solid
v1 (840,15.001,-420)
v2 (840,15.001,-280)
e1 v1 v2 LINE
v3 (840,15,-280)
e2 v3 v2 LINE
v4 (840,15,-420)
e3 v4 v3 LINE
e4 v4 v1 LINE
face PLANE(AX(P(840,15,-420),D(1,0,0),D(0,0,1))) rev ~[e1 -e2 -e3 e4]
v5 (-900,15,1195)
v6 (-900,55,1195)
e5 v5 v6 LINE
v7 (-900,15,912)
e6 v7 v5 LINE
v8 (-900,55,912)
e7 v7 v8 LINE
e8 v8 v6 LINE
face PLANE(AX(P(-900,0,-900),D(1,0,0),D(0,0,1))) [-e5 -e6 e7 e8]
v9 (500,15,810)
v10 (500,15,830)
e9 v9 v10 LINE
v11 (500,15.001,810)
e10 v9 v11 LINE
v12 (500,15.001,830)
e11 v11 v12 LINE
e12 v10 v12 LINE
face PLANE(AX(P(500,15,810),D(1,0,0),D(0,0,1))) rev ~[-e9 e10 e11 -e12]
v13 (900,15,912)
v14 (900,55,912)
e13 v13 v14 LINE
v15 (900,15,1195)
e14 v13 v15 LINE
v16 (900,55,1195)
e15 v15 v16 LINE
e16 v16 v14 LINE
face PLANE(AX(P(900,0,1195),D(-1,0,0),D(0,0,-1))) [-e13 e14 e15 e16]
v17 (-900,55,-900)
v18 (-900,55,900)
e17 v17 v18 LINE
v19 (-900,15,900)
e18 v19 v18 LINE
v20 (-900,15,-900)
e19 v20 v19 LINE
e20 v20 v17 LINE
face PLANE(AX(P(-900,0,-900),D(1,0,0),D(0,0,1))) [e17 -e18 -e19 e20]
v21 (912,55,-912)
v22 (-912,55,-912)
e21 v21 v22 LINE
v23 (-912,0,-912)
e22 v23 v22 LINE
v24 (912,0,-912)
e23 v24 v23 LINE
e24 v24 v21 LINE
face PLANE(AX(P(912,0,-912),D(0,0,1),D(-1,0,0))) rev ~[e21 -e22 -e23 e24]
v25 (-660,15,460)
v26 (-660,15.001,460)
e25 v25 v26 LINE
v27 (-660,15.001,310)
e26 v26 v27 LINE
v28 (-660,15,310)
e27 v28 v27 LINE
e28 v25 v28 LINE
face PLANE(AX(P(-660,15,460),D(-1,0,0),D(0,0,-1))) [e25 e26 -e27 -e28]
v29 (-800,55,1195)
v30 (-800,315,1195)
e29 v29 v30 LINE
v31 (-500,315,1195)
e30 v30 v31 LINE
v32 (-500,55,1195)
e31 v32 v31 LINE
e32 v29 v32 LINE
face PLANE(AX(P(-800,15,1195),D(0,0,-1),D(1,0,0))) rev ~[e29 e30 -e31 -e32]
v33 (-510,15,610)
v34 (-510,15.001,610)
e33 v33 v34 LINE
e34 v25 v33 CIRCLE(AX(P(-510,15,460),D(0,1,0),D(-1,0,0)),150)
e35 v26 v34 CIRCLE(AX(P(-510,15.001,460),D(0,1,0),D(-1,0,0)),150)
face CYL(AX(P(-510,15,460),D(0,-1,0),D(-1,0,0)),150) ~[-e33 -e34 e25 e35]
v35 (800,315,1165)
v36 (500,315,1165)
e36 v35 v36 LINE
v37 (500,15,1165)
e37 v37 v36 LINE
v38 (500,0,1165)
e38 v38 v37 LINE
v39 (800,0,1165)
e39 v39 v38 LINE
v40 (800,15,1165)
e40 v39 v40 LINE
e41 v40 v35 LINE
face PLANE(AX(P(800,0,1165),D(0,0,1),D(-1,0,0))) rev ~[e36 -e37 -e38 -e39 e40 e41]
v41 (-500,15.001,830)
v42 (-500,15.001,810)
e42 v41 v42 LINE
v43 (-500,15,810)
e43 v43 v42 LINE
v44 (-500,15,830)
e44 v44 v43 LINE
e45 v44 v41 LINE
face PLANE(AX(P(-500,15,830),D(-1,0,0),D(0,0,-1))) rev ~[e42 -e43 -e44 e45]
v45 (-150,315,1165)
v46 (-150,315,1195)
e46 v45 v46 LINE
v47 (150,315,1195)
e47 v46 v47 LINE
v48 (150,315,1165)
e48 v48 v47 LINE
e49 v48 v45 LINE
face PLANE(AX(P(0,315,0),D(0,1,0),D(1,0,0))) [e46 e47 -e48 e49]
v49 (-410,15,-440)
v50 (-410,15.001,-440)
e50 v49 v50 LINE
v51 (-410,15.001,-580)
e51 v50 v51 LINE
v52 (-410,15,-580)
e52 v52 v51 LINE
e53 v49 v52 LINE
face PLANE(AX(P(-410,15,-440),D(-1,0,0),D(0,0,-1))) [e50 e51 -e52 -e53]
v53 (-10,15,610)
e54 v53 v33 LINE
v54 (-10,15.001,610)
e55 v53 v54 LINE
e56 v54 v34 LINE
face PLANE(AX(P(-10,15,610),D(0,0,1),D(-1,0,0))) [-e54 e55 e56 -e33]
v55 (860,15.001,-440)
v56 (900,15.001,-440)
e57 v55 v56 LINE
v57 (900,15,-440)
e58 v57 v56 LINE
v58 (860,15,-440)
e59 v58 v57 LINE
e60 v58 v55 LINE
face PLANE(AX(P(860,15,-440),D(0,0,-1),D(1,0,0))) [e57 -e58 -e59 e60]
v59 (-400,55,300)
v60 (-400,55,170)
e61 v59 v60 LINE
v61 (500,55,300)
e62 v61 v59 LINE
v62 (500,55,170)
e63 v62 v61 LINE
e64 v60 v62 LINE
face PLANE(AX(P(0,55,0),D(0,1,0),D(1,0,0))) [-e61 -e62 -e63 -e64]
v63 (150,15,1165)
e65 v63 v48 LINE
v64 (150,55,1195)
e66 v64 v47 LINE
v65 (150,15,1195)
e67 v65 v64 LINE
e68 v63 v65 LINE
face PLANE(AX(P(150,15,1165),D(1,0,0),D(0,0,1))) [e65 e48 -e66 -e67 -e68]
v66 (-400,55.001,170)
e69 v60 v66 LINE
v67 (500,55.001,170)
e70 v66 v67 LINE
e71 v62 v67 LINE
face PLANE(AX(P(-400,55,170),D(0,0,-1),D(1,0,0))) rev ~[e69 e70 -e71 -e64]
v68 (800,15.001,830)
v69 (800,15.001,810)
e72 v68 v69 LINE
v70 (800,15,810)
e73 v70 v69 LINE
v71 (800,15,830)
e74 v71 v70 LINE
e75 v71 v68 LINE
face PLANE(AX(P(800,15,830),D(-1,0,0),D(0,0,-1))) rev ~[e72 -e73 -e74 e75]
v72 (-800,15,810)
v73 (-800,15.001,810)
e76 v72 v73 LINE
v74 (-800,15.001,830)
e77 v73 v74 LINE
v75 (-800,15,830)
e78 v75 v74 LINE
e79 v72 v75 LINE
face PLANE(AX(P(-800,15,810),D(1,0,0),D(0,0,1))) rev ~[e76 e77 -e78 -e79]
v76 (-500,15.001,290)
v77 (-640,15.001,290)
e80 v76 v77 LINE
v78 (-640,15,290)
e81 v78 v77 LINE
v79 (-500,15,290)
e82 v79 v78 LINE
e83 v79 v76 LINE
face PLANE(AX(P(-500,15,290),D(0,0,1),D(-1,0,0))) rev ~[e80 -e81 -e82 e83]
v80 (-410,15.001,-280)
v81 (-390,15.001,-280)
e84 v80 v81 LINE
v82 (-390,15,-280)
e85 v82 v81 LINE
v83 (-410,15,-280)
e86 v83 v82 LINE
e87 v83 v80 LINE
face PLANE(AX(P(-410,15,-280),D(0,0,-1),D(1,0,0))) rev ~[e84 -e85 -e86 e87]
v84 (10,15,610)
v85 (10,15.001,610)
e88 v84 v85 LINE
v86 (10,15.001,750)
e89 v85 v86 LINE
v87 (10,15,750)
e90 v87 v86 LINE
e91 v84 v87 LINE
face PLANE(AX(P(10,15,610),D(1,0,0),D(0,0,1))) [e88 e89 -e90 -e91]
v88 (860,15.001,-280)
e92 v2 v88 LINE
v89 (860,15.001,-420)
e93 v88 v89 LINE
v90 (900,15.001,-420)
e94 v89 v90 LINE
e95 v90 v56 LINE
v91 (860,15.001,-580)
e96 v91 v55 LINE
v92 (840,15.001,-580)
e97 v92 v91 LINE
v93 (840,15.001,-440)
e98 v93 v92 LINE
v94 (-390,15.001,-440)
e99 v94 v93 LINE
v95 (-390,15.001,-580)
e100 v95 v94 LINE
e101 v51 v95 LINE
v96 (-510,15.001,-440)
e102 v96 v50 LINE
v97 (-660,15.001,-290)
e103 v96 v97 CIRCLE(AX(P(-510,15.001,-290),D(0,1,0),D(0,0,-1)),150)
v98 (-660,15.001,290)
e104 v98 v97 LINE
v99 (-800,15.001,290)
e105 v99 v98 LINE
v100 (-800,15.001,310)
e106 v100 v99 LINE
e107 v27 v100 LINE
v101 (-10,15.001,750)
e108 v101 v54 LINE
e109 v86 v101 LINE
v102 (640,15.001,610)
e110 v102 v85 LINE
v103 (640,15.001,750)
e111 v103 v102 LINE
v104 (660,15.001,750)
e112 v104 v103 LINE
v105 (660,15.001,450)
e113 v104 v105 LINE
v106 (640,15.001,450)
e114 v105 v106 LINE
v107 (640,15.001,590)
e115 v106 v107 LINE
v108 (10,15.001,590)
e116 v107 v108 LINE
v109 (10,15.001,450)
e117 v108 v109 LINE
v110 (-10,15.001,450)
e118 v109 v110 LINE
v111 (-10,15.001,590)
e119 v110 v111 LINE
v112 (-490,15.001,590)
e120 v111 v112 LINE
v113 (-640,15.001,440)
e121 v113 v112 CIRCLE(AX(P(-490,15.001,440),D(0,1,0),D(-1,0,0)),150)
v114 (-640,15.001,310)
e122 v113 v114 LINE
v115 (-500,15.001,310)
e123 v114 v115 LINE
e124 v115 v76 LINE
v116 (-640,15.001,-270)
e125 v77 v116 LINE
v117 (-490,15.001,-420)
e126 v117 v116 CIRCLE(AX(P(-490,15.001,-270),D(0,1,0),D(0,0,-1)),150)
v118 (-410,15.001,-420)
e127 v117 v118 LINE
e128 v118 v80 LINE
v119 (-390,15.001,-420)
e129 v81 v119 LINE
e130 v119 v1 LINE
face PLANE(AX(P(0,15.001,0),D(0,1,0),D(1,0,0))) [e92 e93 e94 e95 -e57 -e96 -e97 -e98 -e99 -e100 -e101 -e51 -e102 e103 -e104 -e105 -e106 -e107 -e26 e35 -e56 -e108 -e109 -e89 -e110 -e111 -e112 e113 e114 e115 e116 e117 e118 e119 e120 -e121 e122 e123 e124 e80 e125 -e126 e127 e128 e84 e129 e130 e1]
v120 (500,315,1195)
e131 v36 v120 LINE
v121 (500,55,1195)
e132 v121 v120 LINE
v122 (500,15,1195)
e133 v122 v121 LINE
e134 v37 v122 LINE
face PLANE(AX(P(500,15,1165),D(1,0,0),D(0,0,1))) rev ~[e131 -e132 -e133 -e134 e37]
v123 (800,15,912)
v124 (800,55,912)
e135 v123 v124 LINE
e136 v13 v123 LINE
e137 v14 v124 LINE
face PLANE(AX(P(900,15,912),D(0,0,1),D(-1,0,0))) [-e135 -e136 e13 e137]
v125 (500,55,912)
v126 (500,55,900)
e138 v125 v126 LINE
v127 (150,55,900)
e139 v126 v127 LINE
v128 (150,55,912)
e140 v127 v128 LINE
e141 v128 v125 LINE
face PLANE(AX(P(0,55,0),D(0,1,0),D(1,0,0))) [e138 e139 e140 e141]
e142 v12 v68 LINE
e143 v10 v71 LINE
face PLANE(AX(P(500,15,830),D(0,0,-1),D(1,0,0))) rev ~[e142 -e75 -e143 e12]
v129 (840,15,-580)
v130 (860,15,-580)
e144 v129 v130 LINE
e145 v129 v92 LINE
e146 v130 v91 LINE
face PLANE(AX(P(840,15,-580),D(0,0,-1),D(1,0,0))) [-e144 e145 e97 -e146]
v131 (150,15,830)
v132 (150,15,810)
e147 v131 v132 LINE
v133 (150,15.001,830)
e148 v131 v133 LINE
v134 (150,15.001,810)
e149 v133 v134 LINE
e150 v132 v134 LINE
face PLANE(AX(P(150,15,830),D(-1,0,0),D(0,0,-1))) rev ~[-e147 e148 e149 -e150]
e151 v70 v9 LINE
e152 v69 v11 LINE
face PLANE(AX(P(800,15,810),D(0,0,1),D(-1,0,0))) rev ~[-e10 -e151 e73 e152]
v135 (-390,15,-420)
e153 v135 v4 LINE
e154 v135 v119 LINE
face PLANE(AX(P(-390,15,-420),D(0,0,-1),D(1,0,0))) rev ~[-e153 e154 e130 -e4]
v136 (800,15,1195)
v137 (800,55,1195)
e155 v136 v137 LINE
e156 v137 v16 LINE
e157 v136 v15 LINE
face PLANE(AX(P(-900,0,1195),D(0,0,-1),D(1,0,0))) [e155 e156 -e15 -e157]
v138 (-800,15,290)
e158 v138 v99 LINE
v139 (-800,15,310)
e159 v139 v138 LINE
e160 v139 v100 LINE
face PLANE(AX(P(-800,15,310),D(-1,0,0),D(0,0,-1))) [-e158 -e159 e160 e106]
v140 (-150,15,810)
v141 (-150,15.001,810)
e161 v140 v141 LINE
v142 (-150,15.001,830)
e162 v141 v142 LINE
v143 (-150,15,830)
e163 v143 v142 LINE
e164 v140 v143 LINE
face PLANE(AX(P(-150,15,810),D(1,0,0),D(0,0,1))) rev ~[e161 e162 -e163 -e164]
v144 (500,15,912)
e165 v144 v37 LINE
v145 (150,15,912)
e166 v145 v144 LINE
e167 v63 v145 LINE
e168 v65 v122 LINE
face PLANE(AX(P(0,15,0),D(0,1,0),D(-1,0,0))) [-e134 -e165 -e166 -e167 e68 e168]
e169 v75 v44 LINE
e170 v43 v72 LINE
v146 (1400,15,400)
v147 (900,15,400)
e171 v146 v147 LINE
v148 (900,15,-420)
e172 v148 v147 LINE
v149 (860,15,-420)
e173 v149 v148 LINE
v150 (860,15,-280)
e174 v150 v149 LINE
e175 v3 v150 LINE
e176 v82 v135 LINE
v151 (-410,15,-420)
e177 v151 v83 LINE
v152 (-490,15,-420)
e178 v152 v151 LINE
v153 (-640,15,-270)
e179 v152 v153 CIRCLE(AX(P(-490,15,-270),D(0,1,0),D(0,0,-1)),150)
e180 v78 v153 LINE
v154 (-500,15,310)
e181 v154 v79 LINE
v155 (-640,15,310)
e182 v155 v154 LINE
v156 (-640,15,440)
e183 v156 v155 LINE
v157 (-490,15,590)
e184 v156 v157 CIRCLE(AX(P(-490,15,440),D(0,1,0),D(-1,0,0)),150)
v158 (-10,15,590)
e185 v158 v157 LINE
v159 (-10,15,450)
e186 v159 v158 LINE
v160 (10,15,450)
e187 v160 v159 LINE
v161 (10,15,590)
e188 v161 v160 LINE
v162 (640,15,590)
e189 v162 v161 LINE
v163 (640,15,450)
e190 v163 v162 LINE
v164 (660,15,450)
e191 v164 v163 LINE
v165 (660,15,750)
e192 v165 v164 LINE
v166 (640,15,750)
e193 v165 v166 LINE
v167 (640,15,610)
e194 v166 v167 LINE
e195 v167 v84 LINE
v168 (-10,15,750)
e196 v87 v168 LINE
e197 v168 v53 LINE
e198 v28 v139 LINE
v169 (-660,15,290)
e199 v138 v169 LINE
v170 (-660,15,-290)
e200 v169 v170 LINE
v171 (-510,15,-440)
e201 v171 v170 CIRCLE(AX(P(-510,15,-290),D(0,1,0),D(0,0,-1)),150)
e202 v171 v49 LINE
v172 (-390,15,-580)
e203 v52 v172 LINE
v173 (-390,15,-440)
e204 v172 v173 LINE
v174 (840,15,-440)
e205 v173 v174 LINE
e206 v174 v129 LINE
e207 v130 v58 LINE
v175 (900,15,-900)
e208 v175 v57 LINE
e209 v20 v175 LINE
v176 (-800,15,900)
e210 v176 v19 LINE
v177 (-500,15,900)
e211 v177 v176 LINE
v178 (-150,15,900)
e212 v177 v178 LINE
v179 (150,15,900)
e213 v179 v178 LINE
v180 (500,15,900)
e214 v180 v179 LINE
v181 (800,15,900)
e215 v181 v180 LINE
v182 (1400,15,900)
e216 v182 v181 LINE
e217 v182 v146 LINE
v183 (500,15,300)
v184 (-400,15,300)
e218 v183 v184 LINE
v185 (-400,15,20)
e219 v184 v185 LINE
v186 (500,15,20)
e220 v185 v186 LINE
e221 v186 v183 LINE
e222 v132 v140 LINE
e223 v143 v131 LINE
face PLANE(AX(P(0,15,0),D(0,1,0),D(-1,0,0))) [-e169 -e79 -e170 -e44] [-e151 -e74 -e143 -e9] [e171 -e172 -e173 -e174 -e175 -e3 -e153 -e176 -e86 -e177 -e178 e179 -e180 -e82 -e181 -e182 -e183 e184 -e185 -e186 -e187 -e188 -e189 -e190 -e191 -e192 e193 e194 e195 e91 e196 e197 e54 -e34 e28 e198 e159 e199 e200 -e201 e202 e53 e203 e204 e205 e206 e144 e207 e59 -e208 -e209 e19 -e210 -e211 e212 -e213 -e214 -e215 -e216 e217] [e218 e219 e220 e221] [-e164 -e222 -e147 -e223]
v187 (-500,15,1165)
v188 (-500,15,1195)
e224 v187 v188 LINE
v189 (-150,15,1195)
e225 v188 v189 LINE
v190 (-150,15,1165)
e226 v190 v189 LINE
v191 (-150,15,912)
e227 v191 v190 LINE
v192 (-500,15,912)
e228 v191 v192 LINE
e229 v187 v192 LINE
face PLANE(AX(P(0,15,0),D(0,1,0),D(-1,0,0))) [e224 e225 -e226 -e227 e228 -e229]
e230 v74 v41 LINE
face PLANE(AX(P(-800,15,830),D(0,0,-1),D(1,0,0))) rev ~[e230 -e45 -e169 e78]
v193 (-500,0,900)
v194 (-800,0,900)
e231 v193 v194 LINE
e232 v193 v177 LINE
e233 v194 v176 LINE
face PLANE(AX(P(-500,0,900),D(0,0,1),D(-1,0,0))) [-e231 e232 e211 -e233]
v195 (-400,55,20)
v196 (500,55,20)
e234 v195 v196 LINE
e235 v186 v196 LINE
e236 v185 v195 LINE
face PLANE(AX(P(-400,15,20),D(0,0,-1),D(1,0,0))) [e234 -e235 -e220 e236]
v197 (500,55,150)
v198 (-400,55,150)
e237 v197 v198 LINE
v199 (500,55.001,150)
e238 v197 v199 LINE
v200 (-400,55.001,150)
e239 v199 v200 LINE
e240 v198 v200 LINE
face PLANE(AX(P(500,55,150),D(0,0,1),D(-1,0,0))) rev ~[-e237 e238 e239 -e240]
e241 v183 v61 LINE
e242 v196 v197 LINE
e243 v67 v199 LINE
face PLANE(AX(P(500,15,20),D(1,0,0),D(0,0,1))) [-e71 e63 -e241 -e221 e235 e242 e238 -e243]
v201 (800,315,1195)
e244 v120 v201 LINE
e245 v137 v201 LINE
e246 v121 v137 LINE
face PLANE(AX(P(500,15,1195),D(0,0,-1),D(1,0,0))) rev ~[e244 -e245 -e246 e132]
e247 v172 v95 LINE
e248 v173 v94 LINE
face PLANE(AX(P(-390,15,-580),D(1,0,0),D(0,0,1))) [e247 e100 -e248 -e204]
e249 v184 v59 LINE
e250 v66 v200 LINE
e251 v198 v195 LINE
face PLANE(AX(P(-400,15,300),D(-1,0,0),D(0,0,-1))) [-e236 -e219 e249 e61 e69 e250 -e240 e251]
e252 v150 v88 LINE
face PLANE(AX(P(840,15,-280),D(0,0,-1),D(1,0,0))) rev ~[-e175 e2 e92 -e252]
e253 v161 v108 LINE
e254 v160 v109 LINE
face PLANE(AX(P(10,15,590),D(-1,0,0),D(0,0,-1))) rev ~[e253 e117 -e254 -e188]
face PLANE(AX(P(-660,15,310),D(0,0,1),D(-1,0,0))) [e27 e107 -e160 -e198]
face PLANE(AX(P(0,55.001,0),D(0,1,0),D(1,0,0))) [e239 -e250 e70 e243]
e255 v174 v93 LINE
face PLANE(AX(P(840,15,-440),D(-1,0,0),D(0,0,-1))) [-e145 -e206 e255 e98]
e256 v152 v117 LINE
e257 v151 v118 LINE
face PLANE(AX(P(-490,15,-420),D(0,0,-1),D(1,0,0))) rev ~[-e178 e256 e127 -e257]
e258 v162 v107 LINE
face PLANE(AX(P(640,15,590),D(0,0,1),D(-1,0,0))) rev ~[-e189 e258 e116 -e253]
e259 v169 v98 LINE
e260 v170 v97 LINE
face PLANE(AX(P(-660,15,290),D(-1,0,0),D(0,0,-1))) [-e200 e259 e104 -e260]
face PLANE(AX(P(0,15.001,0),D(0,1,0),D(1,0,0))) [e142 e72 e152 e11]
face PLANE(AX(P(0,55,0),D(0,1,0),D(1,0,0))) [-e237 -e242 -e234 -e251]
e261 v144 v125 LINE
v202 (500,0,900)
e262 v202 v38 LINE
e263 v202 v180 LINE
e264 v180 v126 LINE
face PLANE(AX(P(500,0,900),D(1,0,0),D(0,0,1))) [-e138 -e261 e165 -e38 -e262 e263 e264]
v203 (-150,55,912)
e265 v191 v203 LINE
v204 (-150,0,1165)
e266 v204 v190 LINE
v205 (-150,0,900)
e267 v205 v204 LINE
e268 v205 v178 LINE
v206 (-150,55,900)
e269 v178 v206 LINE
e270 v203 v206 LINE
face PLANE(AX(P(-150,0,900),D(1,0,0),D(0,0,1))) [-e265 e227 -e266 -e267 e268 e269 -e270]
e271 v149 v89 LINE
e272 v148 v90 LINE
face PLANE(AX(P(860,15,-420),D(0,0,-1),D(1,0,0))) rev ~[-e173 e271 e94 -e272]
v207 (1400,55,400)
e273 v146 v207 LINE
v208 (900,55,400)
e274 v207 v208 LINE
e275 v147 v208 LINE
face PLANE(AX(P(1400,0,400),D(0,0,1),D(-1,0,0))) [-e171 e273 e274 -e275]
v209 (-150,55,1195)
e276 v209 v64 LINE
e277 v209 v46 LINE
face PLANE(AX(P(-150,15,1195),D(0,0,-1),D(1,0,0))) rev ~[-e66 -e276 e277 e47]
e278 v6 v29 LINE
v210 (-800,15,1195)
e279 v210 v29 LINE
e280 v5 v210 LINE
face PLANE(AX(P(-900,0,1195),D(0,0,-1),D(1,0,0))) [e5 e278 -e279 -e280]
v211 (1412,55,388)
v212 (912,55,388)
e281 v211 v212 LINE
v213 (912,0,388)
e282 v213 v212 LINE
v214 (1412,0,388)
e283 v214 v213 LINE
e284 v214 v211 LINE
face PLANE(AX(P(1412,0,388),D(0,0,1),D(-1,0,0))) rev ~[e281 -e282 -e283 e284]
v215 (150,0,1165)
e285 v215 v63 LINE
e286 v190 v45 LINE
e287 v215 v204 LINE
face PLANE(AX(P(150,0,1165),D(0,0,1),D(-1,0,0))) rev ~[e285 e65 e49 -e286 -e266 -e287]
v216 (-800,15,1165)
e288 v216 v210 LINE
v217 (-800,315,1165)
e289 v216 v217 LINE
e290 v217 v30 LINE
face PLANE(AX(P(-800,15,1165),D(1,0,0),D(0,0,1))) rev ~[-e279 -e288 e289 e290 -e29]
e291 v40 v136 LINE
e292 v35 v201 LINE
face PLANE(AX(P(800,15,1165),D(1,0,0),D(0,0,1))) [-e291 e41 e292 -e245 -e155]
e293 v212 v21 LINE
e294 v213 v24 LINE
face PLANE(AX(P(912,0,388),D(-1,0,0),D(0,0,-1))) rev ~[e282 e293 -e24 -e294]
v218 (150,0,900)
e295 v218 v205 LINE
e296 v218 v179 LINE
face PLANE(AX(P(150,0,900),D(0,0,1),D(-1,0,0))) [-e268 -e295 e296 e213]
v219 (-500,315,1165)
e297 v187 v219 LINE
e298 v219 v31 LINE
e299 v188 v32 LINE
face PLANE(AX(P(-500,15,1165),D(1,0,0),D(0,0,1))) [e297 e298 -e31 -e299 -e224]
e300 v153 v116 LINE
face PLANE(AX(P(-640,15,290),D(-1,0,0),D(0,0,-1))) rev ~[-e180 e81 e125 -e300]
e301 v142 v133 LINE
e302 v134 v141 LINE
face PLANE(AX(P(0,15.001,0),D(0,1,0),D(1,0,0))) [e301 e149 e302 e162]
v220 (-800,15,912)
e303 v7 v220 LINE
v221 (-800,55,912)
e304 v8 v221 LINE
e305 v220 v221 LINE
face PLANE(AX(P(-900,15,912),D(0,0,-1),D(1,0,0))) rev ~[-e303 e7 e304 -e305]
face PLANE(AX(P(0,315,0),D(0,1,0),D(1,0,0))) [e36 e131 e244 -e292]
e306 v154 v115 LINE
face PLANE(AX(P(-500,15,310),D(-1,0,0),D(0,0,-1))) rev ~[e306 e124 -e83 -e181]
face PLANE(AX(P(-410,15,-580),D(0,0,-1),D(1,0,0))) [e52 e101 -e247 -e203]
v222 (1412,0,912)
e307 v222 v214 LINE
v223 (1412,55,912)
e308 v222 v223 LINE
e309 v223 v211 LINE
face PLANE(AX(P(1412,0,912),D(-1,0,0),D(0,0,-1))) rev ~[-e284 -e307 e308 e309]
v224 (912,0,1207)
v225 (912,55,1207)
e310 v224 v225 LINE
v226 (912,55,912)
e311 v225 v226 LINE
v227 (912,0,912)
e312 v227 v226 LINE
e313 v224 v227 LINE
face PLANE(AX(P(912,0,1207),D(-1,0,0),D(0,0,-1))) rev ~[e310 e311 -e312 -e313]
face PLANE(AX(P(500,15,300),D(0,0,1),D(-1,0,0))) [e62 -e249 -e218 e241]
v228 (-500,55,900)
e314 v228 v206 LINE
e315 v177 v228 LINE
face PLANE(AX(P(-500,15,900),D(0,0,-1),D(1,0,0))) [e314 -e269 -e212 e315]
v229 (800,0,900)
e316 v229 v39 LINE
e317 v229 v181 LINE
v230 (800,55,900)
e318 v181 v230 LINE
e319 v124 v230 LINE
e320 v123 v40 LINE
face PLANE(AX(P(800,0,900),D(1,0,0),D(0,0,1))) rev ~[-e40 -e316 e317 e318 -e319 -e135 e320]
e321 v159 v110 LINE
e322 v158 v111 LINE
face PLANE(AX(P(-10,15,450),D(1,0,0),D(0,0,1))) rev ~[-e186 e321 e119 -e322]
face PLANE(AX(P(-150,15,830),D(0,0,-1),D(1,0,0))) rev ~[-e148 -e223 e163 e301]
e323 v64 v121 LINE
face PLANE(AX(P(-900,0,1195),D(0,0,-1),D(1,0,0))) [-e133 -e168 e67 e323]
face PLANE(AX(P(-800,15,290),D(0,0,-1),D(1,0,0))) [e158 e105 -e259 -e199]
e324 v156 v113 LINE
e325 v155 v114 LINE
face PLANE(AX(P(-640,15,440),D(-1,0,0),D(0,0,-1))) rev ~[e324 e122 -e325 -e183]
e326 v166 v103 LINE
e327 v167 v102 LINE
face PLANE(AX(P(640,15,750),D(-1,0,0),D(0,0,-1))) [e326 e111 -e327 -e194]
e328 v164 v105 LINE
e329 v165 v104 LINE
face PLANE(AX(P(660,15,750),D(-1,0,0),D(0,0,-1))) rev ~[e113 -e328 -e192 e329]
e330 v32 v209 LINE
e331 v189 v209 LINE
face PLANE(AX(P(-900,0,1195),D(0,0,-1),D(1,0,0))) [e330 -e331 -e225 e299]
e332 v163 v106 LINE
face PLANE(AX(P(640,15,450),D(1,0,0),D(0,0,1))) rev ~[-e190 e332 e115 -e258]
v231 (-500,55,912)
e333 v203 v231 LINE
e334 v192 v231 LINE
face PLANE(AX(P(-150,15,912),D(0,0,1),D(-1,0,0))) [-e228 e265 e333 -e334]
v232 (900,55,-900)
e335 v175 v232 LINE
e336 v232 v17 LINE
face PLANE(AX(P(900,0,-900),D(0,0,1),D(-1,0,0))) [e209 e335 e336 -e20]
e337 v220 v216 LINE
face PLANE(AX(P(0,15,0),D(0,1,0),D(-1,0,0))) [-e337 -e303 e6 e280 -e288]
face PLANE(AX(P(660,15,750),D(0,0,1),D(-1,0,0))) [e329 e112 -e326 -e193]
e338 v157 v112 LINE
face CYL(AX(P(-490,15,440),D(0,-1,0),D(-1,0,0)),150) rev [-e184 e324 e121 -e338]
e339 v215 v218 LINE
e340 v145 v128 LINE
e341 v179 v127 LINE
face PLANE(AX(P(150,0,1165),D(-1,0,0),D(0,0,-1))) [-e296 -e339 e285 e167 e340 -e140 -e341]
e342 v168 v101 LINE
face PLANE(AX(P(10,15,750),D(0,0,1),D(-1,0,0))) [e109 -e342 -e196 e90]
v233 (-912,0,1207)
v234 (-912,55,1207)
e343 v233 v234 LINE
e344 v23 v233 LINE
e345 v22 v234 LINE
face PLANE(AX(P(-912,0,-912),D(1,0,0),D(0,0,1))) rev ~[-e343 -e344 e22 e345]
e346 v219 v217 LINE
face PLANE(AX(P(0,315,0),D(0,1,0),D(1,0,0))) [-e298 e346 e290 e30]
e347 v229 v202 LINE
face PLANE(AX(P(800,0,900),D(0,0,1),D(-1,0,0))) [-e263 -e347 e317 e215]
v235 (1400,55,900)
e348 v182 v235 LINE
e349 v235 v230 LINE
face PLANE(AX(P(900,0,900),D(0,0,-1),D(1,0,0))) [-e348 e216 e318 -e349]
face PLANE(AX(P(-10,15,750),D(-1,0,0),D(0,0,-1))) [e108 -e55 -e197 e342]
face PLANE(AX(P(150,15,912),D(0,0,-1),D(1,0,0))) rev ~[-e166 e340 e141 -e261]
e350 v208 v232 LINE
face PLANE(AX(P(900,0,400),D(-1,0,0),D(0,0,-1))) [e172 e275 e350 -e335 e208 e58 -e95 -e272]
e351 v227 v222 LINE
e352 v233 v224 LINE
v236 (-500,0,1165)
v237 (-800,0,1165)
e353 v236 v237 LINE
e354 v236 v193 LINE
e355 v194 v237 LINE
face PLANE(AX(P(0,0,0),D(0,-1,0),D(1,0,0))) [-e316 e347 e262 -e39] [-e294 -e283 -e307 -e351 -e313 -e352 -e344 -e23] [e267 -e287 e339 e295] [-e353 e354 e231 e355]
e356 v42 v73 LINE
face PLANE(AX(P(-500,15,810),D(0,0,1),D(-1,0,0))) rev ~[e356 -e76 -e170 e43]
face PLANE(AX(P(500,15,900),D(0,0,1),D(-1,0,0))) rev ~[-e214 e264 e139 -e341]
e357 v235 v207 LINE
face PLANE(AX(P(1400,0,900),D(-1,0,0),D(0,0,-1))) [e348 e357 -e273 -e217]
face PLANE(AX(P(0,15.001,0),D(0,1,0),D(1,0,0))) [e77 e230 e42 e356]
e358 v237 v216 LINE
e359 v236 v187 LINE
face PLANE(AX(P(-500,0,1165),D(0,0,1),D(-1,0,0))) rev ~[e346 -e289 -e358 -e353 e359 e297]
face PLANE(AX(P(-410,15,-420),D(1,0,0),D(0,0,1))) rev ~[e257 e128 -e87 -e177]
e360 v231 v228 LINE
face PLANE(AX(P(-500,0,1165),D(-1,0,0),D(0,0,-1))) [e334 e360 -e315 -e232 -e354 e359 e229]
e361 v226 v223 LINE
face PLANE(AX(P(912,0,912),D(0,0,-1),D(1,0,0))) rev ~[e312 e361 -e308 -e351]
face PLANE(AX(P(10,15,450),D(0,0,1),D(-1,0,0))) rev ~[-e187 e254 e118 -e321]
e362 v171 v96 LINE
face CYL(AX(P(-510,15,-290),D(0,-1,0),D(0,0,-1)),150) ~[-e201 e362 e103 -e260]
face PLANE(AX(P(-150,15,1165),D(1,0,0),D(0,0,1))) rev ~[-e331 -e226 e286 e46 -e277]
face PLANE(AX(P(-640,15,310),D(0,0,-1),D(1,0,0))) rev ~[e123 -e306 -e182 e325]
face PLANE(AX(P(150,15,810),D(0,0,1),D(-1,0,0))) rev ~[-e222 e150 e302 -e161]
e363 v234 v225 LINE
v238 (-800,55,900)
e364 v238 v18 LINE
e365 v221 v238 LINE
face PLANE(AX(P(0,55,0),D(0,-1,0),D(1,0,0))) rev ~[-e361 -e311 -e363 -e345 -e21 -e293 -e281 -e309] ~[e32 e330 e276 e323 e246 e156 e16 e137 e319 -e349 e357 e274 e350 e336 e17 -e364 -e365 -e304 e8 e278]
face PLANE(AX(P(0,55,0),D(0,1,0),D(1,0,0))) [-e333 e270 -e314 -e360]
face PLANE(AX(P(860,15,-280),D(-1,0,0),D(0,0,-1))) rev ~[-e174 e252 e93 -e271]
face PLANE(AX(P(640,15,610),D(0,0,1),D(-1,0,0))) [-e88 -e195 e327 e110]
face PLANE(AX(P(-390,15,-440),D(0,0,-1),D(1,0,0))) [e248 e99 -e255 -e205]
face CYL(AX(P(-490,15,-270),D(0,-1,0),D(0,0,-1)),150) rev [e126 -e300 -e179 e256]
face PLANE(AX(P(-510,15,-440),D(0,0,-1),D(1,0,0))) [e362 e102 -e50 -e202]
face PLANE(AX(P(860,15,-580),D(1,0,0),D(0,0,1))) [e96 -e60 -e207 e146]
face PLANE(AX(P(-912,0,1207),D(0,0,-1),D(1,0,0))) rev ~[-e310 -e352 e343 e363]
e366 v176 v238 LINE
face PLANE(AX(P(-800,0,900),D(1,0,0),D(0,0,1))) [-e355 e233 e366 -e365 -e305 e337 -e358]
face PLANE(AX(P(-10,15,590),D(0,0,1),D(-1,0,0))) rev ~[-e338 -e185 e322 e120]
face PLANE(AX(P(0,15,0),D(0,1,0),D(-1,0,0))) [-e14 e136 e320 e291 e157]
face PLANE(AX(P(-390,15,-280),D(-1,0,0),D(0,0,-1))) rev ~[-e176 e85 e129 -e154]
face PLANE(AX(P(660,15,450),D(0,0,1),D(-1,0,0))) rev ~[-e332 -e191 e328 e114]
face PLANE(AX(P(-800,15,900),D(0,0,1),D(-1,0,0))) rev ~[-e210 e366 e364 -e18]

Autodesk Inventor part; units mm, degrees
ref_plane "YZ Plane" through (0, 0, 0) normal (1, 0, 0) x (0, 1, 0)
ref_plane "XZ Plane" through (0, 0, 0) normal (0, 1, 0) x (-1, 0, 0)
ref_plane "XY Plane" through (0, 0, 0) normal (0, 0, 1) x (1, 0, 0)
sketch "スケッチ1" plane through (0, 0, 0) normal (0, 1, 0) x (-1, 0, 0)
  line L0 (-900, 900) -> (900, 900)
  line L1 (900, 900) -> (900, -900)
  line L2 (900, -900) -> (-900, -900)
  line L3 (-900, -900) -> (-900, 900)
  line L4 (-900, 900) -> (900, -900) construction
  line L5 (900, 900) -> (-900, -900) construction
  line L6 (-900, 900) -> (-1400, 900)
  line L7 (-1400, 900) -> (-1400, 400)
  line L8 (-1400, 400) -> (-900, 400)
  line L9 (-900, 400) -> (-900, 900)
  line L10 (900, 900) -> (800, 900)
  line L11 (800, 900) -> (800, 1165)
  line L12 (800, 1165) -> (900, 1165)
  line L13 (900, 1165) -> (900, 900)
  line L14 (500, 900) -> (150, 900)
  line L15 (150, 900) -> (150, 1165)
  line L16 (150, 1165) -> (500, 1165)
  line L17 (500, 1165) -> (500, 900)
  line L18 (650, 900) -> (650, 1196.2048) construction
  line L19 (-150, 900) -> (-500, 900)
  line L20 (-500, 900) -> (-500, 1165)
  line L21 (-500, 1165) -> (-150, 1165)
  line L22 (-150, 1165) -> (-150, 900)
  line L23 (0, 900) -> (0, 1638.8825) construction
  line L24 (-900, 900) -> (-800, 900)
  line L25 (-800, 900) -> (-800, 1165)
  line L26 (-800, 1165) -> (-900, 1165)
  line L27 (-900, 1165) -> (-900, 900)
  line L28 (-650, 900) -> (-650, 1715.6459) construction
  line L29 (-900, 1165) -> (900, 1165)
  line L30 (900, 1165) -> (900, 1195)
  line L31 (900, 1195) -> (-900, 1195)
  line L32 (-900, 1195) -> (-900, 1165)
  point P0 (0, 0)
  dimension "d0" = 1800
  dimension "d1" = 500
  dimension "d2" = 300
  dimension "d3" = 250
  dimension "d4" = 650
  dimension "d5" = 300
  dimension "d7" = 300
  dimension "d9" = 265
  dimension "d10" = 30
extrude "押し出し1" add sketch "スケッチ1" along normal blind 15 contours L27 L26 L25 L0 | L0 L1 L2 L3 | L3 L8 L7 L6 | L32 L31 L30 L12 L29 L16 L21 L26 | L20 L21 L22 L0 | L15 L16 L17 L0 | L0 L11 L12 L13
sketch "スケッチ2" plane through (0, 15, 0) normal (0, 1, 0) x (1, 0, 0)
  line L0 (900, -400) -> (900, 900) projected
  line L1 (900, 900) -> (-900, 900) projected
  line L2 (-900, 900) -> (-900, -1195) projected
  line L3 (-400, -20) -> (500, -20)
  line L4 (500, -20) -> (500, -300)
  line L5 (500, -300) -> (-400, -300)
  line L6 (-400, -300) -> (-400, -20)
  point P0 (0, 0)
  dimension "d13" = 400
  dimension "d14" = 500
  dimension "d15" = 280
  dimension "d16" = 920
extrude "押し出し2" add sketch "スケッチ2" along normal blind 40
sketch "スケッチ4" plane through (0, 0, 0) normal (0, -1, 0) x (1, 0, 0)
  line L0 (900, 900) -> (1400, 900) projected
  line L1 (900, 1195) -> (900, 900) projected
  line L2 (-900, 1195) -> (900, 1195) projected
  line L3 (-900, -900) -> (-900, 1195) projected
  line L4 (900, -900) -> (-900, -900) projected
  line L5 (900, 400) -> (900, -900) projected
  line L6 (1400, 400) -> (900, 400) projected
  line L7 (1400, 900) -> (1400, 400) projected
  line L8 (1412, 388) -> (912, 388)
  line L9 (912, 388) -> (912, -912)
  line L10 (912, -912) -> (-912, -912)
  line L11 (-912, -912) -> (-912, 1207)
  line L12 (-912, 1207) -> (912, 1207)
  line L13 (912, 1207) -> (912, 912)
  line L14 (912, 912) -> (1412, 912)
  line L15 (1412, 912) -> (1412, 388)
  point P0 (0, 0)
  dimension "d19" = 12
extrude "押し出し3" add sketch "スケッチ4" against normal blind 55
sketch "スケッチ5" plane through (0, 15, 0) normal (0, 1, 0) x (1, 0, 0)
  line L0 (-500, -1165) -> (-800, -1165) projected
  line L1 (150, -1165) -> (-150, -1165) projected
  line L2 (800, -1165) -> (500, -1165) projected
  line L3 (-900, 900) -> (-900, -1195) projected
  line L4 (-900, -1195) -> (900, -1195) projected
  line L5 (-800, -900) -> (-900, -900)
  line L6 (-800, -900) -> (-500, -900) projected
  line L7 (-500, -900) -> (-150, -900)
  line L8 (150, -900) -> (500, -900)
  line L9 (-150, -900) -> (150, -900) projected
  line L10 (800, -900) -> (900, -900)
  line L11 (-800, -1165) -> (-800, -1195)
  line L12 (-500, -1165) -> (-500, -1195)
  line L13 (150, -1165) -> (150, -1195)
  line L14 (-150, -1165) -> (-150, -1195)
  line L15 (500, -1165) -> (500, -1195)
  line L16 (800, -1165) -> (800, -1195)
  point P0 (0, 0)
extrude "押し出し4" add sketch "スケッチ5" along normal blind 300
sketch "スケッチ6" plane through (0, 15, 0) normal (0, 1, 0) x (1, 0, 0)
  line L0 (-150, -1165) -> (-150, -900) projected
  line L1 (150, -900) -> (150, -1165) projected
  line L2 (900, -1195) -> (900, -900) projected
  line L3 (-900, 900) -> (-900, -1195) projected
  line L4 (-800, -900) -> (-900, -900)
  line L5 (-900, -900) -> (-900, -912)
  line L6 (-900, -912) -> (-800, -912)
  line L7 (-800, -912) -> (-800, -900)
  line L8 (-500, -900) -> (-150, -900)
  line L9 (-150, -900) -> (-150, -912)
  line L10 (-150, -912) -> (-500, -912)
  line L11 (-500, -912) -> (-500, -900)
  line L12 (500, -900) -> (150, -900)
  line L13 (150, -900) -> (150, -912)
  line L14 (150, -912) -> (500, -912)
  line L15 (500, -912) -> (500, -900)
  line L16 (800, -900) -> (900, -900)
  line L17 (900, -900) -> (900, -912)
  line L18 (900, -912) -> (800, -912)
  line L19 (800, -912) -> (800, -900)
  point P0 (0, 0)
  dimension "d24" = 12
extrude "押し出し5" add sketch "スケッチ6" along normal blind 40
sketch "スケッチ7" plane through (0, 15, 0) normal (0, 1, 0) x (1, 0, 0)
  line L0 (900, -400) -> (900, 900) projected
  line L1 (900, 900) -> (-900, 900) projected
  line L2 (-900, 900) -> (-900, -900) projected
  line L3 (-800, -900) -> (-500, -900) projected
  line L4 (-500, -900) -> (-150, -900) projected
  line L5 (500, -830) -> (800, -830)
  line L6 (800, -830) -> (800, -810)
  line L7 (800, -810) -> (500, -810)
  line L8 (500, -810) -> (500, -830)
  line L9 (-150, -830) -> (150, -830)
  line L10 (150, -830) -> (150, -810)
  line L11 (150, -810) -> (-150, -810)
  line L12 (-150, -810) -> (-150, -830)
  line L13 (-800, -830) -> (-500, -830)
  line L14 (-500, -830) -> (-500, -810)
  line L15 (-500, -810) -> (-800, -810)
  line L16 (-800, -810) -> (-800, -830)
  line L17 (660, -750) -> (660, -450)
  line L18 (660, -450) -> (640, -450)
  line L19 (640, -450) -> (640, -590)
  line L20 (640, -590) -> (10, -590)
  line L21 (10, -590) -> (10, -450)
  line L22 (10, -450) -> (-10, -450)
  line L23 (-10, -450) -> (-10, -590)
  line L24 (-10, -590) -> (-490, -590)
  line L25 (-640, -440) -> (-640, -310)
  line L26 (-640, -310) -> (-500, -310)
  line L27 (-500, -310) -> (-500, -290)
  line L28 (-500, -290) -> (-640, -290)
  line L29 (-640, -290) -> (-640, 270)
  arc A0 (-490, 420) -> (-640, 270) centre (-490, 270) ccw
  line L30 (-490, 420) -> (-410, 420)
  line L31 (-410, 420) -> (-410, 280)
  line L32 (-410, 280) -> (-390, 280)
  line L33 (-390, 280) -> (-390, 420)
  line L34 (-390, 420) -> (840, 420)
  line L35 (840, 420) -> (840, 280)
  line L36 (840, 280) -> (860, 280)
  line L37 (860, 280) -> (860, 420)
  line L38 (860, 420) -> (900, 420)
  arc A1 (-640, -440) -> (-490, -590) centre (-490, -440) ccw
  line L39 (0, -450) -> (0, -597.588) construction
  line L40 (650, -450) -> (650, -650) construction
  line L41 (850, 280) -> (850, 559.6959) construction
  line L42 (-400, 280) -> (-400, 450.6636) construction
  line L43 (660, -750) -> (640, -750)
  line L44 (640, -750) -> (640, -610)
  line L45 (640, -610) -> (10, -610)
  line L46 (10, -610) -> (10, -750)
  line L47 (10, -750) -> (-10, -750)
  line L48 (-10, -750) -> (-10, -610)
  line L49 (-10, -610) -> (-510, -610)
  line L50 (0, -600) -> (-123.7185, -600) construction
  arc A2 (-660, -460) -> (-510, -610) centre (-510, -460) ccw
  line L51 (-660, -460) -> (-660, -310)
  line L52 (-660, -310) -> (-800, -310)
  line L53 (-800, -310) -> (-800, -290)
  line L54 (-800, -290) -> (-660, -290)
  line L55 (-660, -290) -> (-660, 290)
  line L56 (-800, -300) -> (-500, -300) construction
  line L57 (-650, -300) -> (-650, -220.6118) construction
  arc A3 (-510, 440) -> (-660, 290) centre (-510, 290) ccw
  line L58 (-510, 440) -> (-410, 440)
  line L59 (-410, 440) -> (-410, 580)
  line L60 (-410, 580) -> (-390, 580)
  line L61 (-390, 580) -> (-390, 440)
  line L62 (-390, 440) -> (840, 440)
  line L63 (840, 440) -> (840, 580)
  line L64 (840, 580) -> (860, 580)
  line L65 (860, 580) -> (860, 440)
  line L66 (860, 440) -> (900, 440)
  point P0 (500, -900)
  point P1 (0, 0)
  point P2 (850, 580)
  point P3 (-400, 580)
  dimension "d27" = 300
  dimension "d28" = 20
  dimension "d29" = 70
  dimension "d30" = 150
  dimension "d32" = 150
  dimension "d33" = 20
  dimension "d34" = 300
  dimension "d35" = 480
  dimension "d36" = 650
  dimension "d37" = 250
  dimension "d38" = 50
  dimension "d39" = 500
  dimension "d40" = 20
  dimension "d41" = 300
  dimension "d42" = 20
  dimension "d43" = 300
  dimension "d44" = 250
  dimension "d45" = 20
extrude "押し出し6" add sketch "スケッチ7" along normal blind 0.001
sketch "スケッチ8" plane through (0, 55, 0) normal (0, 1, 0) x (1, 0, 0)
  line L0 (-400, -300) -> (500, -300) projected
  line L1 (500, -300) -> (500, -20) projected
  line L2 (-400, -300) -> (-400, -20) projected
  line L3 (-400, -170) -> (500, -170)
  line L4 (500, -170) -> (500, -150)
  line L5 (500, -150) -> (-400, -150)
  line L6 (-400, -150) -> (-400, -170)
  line L7 (-327.3168, -160) -> (-261.4952, -160) construction
  point P0 (0, 0)
  dimension "d48" = 20
  dimension "d49" = 140
extrude "押し出し7" add sketch "スケッチ8" along normal blind 0.001 contours L2 L5 L1 L3
equation "\"d5\" = d2"
equation "\"d7\" = d5"
equation "\"d28\" = 線の太さ"
equation "\"d32\" = d30"
equation "\"d33\" = 線の太さ"
equation "\"d40\" = 線の太さ"
equation "\"d42\" = 線の太さ"
equation "\"d43\" = d41"
equation "\"d45\" = 線の太さ"
equation "\"d48\" = 線の太さ"
equation "\"d50\" = d46"
equation "\"線の太さ\" = 20"
equation "\"d46\" = 0.001"
properties part number "フィールド本体_1"
